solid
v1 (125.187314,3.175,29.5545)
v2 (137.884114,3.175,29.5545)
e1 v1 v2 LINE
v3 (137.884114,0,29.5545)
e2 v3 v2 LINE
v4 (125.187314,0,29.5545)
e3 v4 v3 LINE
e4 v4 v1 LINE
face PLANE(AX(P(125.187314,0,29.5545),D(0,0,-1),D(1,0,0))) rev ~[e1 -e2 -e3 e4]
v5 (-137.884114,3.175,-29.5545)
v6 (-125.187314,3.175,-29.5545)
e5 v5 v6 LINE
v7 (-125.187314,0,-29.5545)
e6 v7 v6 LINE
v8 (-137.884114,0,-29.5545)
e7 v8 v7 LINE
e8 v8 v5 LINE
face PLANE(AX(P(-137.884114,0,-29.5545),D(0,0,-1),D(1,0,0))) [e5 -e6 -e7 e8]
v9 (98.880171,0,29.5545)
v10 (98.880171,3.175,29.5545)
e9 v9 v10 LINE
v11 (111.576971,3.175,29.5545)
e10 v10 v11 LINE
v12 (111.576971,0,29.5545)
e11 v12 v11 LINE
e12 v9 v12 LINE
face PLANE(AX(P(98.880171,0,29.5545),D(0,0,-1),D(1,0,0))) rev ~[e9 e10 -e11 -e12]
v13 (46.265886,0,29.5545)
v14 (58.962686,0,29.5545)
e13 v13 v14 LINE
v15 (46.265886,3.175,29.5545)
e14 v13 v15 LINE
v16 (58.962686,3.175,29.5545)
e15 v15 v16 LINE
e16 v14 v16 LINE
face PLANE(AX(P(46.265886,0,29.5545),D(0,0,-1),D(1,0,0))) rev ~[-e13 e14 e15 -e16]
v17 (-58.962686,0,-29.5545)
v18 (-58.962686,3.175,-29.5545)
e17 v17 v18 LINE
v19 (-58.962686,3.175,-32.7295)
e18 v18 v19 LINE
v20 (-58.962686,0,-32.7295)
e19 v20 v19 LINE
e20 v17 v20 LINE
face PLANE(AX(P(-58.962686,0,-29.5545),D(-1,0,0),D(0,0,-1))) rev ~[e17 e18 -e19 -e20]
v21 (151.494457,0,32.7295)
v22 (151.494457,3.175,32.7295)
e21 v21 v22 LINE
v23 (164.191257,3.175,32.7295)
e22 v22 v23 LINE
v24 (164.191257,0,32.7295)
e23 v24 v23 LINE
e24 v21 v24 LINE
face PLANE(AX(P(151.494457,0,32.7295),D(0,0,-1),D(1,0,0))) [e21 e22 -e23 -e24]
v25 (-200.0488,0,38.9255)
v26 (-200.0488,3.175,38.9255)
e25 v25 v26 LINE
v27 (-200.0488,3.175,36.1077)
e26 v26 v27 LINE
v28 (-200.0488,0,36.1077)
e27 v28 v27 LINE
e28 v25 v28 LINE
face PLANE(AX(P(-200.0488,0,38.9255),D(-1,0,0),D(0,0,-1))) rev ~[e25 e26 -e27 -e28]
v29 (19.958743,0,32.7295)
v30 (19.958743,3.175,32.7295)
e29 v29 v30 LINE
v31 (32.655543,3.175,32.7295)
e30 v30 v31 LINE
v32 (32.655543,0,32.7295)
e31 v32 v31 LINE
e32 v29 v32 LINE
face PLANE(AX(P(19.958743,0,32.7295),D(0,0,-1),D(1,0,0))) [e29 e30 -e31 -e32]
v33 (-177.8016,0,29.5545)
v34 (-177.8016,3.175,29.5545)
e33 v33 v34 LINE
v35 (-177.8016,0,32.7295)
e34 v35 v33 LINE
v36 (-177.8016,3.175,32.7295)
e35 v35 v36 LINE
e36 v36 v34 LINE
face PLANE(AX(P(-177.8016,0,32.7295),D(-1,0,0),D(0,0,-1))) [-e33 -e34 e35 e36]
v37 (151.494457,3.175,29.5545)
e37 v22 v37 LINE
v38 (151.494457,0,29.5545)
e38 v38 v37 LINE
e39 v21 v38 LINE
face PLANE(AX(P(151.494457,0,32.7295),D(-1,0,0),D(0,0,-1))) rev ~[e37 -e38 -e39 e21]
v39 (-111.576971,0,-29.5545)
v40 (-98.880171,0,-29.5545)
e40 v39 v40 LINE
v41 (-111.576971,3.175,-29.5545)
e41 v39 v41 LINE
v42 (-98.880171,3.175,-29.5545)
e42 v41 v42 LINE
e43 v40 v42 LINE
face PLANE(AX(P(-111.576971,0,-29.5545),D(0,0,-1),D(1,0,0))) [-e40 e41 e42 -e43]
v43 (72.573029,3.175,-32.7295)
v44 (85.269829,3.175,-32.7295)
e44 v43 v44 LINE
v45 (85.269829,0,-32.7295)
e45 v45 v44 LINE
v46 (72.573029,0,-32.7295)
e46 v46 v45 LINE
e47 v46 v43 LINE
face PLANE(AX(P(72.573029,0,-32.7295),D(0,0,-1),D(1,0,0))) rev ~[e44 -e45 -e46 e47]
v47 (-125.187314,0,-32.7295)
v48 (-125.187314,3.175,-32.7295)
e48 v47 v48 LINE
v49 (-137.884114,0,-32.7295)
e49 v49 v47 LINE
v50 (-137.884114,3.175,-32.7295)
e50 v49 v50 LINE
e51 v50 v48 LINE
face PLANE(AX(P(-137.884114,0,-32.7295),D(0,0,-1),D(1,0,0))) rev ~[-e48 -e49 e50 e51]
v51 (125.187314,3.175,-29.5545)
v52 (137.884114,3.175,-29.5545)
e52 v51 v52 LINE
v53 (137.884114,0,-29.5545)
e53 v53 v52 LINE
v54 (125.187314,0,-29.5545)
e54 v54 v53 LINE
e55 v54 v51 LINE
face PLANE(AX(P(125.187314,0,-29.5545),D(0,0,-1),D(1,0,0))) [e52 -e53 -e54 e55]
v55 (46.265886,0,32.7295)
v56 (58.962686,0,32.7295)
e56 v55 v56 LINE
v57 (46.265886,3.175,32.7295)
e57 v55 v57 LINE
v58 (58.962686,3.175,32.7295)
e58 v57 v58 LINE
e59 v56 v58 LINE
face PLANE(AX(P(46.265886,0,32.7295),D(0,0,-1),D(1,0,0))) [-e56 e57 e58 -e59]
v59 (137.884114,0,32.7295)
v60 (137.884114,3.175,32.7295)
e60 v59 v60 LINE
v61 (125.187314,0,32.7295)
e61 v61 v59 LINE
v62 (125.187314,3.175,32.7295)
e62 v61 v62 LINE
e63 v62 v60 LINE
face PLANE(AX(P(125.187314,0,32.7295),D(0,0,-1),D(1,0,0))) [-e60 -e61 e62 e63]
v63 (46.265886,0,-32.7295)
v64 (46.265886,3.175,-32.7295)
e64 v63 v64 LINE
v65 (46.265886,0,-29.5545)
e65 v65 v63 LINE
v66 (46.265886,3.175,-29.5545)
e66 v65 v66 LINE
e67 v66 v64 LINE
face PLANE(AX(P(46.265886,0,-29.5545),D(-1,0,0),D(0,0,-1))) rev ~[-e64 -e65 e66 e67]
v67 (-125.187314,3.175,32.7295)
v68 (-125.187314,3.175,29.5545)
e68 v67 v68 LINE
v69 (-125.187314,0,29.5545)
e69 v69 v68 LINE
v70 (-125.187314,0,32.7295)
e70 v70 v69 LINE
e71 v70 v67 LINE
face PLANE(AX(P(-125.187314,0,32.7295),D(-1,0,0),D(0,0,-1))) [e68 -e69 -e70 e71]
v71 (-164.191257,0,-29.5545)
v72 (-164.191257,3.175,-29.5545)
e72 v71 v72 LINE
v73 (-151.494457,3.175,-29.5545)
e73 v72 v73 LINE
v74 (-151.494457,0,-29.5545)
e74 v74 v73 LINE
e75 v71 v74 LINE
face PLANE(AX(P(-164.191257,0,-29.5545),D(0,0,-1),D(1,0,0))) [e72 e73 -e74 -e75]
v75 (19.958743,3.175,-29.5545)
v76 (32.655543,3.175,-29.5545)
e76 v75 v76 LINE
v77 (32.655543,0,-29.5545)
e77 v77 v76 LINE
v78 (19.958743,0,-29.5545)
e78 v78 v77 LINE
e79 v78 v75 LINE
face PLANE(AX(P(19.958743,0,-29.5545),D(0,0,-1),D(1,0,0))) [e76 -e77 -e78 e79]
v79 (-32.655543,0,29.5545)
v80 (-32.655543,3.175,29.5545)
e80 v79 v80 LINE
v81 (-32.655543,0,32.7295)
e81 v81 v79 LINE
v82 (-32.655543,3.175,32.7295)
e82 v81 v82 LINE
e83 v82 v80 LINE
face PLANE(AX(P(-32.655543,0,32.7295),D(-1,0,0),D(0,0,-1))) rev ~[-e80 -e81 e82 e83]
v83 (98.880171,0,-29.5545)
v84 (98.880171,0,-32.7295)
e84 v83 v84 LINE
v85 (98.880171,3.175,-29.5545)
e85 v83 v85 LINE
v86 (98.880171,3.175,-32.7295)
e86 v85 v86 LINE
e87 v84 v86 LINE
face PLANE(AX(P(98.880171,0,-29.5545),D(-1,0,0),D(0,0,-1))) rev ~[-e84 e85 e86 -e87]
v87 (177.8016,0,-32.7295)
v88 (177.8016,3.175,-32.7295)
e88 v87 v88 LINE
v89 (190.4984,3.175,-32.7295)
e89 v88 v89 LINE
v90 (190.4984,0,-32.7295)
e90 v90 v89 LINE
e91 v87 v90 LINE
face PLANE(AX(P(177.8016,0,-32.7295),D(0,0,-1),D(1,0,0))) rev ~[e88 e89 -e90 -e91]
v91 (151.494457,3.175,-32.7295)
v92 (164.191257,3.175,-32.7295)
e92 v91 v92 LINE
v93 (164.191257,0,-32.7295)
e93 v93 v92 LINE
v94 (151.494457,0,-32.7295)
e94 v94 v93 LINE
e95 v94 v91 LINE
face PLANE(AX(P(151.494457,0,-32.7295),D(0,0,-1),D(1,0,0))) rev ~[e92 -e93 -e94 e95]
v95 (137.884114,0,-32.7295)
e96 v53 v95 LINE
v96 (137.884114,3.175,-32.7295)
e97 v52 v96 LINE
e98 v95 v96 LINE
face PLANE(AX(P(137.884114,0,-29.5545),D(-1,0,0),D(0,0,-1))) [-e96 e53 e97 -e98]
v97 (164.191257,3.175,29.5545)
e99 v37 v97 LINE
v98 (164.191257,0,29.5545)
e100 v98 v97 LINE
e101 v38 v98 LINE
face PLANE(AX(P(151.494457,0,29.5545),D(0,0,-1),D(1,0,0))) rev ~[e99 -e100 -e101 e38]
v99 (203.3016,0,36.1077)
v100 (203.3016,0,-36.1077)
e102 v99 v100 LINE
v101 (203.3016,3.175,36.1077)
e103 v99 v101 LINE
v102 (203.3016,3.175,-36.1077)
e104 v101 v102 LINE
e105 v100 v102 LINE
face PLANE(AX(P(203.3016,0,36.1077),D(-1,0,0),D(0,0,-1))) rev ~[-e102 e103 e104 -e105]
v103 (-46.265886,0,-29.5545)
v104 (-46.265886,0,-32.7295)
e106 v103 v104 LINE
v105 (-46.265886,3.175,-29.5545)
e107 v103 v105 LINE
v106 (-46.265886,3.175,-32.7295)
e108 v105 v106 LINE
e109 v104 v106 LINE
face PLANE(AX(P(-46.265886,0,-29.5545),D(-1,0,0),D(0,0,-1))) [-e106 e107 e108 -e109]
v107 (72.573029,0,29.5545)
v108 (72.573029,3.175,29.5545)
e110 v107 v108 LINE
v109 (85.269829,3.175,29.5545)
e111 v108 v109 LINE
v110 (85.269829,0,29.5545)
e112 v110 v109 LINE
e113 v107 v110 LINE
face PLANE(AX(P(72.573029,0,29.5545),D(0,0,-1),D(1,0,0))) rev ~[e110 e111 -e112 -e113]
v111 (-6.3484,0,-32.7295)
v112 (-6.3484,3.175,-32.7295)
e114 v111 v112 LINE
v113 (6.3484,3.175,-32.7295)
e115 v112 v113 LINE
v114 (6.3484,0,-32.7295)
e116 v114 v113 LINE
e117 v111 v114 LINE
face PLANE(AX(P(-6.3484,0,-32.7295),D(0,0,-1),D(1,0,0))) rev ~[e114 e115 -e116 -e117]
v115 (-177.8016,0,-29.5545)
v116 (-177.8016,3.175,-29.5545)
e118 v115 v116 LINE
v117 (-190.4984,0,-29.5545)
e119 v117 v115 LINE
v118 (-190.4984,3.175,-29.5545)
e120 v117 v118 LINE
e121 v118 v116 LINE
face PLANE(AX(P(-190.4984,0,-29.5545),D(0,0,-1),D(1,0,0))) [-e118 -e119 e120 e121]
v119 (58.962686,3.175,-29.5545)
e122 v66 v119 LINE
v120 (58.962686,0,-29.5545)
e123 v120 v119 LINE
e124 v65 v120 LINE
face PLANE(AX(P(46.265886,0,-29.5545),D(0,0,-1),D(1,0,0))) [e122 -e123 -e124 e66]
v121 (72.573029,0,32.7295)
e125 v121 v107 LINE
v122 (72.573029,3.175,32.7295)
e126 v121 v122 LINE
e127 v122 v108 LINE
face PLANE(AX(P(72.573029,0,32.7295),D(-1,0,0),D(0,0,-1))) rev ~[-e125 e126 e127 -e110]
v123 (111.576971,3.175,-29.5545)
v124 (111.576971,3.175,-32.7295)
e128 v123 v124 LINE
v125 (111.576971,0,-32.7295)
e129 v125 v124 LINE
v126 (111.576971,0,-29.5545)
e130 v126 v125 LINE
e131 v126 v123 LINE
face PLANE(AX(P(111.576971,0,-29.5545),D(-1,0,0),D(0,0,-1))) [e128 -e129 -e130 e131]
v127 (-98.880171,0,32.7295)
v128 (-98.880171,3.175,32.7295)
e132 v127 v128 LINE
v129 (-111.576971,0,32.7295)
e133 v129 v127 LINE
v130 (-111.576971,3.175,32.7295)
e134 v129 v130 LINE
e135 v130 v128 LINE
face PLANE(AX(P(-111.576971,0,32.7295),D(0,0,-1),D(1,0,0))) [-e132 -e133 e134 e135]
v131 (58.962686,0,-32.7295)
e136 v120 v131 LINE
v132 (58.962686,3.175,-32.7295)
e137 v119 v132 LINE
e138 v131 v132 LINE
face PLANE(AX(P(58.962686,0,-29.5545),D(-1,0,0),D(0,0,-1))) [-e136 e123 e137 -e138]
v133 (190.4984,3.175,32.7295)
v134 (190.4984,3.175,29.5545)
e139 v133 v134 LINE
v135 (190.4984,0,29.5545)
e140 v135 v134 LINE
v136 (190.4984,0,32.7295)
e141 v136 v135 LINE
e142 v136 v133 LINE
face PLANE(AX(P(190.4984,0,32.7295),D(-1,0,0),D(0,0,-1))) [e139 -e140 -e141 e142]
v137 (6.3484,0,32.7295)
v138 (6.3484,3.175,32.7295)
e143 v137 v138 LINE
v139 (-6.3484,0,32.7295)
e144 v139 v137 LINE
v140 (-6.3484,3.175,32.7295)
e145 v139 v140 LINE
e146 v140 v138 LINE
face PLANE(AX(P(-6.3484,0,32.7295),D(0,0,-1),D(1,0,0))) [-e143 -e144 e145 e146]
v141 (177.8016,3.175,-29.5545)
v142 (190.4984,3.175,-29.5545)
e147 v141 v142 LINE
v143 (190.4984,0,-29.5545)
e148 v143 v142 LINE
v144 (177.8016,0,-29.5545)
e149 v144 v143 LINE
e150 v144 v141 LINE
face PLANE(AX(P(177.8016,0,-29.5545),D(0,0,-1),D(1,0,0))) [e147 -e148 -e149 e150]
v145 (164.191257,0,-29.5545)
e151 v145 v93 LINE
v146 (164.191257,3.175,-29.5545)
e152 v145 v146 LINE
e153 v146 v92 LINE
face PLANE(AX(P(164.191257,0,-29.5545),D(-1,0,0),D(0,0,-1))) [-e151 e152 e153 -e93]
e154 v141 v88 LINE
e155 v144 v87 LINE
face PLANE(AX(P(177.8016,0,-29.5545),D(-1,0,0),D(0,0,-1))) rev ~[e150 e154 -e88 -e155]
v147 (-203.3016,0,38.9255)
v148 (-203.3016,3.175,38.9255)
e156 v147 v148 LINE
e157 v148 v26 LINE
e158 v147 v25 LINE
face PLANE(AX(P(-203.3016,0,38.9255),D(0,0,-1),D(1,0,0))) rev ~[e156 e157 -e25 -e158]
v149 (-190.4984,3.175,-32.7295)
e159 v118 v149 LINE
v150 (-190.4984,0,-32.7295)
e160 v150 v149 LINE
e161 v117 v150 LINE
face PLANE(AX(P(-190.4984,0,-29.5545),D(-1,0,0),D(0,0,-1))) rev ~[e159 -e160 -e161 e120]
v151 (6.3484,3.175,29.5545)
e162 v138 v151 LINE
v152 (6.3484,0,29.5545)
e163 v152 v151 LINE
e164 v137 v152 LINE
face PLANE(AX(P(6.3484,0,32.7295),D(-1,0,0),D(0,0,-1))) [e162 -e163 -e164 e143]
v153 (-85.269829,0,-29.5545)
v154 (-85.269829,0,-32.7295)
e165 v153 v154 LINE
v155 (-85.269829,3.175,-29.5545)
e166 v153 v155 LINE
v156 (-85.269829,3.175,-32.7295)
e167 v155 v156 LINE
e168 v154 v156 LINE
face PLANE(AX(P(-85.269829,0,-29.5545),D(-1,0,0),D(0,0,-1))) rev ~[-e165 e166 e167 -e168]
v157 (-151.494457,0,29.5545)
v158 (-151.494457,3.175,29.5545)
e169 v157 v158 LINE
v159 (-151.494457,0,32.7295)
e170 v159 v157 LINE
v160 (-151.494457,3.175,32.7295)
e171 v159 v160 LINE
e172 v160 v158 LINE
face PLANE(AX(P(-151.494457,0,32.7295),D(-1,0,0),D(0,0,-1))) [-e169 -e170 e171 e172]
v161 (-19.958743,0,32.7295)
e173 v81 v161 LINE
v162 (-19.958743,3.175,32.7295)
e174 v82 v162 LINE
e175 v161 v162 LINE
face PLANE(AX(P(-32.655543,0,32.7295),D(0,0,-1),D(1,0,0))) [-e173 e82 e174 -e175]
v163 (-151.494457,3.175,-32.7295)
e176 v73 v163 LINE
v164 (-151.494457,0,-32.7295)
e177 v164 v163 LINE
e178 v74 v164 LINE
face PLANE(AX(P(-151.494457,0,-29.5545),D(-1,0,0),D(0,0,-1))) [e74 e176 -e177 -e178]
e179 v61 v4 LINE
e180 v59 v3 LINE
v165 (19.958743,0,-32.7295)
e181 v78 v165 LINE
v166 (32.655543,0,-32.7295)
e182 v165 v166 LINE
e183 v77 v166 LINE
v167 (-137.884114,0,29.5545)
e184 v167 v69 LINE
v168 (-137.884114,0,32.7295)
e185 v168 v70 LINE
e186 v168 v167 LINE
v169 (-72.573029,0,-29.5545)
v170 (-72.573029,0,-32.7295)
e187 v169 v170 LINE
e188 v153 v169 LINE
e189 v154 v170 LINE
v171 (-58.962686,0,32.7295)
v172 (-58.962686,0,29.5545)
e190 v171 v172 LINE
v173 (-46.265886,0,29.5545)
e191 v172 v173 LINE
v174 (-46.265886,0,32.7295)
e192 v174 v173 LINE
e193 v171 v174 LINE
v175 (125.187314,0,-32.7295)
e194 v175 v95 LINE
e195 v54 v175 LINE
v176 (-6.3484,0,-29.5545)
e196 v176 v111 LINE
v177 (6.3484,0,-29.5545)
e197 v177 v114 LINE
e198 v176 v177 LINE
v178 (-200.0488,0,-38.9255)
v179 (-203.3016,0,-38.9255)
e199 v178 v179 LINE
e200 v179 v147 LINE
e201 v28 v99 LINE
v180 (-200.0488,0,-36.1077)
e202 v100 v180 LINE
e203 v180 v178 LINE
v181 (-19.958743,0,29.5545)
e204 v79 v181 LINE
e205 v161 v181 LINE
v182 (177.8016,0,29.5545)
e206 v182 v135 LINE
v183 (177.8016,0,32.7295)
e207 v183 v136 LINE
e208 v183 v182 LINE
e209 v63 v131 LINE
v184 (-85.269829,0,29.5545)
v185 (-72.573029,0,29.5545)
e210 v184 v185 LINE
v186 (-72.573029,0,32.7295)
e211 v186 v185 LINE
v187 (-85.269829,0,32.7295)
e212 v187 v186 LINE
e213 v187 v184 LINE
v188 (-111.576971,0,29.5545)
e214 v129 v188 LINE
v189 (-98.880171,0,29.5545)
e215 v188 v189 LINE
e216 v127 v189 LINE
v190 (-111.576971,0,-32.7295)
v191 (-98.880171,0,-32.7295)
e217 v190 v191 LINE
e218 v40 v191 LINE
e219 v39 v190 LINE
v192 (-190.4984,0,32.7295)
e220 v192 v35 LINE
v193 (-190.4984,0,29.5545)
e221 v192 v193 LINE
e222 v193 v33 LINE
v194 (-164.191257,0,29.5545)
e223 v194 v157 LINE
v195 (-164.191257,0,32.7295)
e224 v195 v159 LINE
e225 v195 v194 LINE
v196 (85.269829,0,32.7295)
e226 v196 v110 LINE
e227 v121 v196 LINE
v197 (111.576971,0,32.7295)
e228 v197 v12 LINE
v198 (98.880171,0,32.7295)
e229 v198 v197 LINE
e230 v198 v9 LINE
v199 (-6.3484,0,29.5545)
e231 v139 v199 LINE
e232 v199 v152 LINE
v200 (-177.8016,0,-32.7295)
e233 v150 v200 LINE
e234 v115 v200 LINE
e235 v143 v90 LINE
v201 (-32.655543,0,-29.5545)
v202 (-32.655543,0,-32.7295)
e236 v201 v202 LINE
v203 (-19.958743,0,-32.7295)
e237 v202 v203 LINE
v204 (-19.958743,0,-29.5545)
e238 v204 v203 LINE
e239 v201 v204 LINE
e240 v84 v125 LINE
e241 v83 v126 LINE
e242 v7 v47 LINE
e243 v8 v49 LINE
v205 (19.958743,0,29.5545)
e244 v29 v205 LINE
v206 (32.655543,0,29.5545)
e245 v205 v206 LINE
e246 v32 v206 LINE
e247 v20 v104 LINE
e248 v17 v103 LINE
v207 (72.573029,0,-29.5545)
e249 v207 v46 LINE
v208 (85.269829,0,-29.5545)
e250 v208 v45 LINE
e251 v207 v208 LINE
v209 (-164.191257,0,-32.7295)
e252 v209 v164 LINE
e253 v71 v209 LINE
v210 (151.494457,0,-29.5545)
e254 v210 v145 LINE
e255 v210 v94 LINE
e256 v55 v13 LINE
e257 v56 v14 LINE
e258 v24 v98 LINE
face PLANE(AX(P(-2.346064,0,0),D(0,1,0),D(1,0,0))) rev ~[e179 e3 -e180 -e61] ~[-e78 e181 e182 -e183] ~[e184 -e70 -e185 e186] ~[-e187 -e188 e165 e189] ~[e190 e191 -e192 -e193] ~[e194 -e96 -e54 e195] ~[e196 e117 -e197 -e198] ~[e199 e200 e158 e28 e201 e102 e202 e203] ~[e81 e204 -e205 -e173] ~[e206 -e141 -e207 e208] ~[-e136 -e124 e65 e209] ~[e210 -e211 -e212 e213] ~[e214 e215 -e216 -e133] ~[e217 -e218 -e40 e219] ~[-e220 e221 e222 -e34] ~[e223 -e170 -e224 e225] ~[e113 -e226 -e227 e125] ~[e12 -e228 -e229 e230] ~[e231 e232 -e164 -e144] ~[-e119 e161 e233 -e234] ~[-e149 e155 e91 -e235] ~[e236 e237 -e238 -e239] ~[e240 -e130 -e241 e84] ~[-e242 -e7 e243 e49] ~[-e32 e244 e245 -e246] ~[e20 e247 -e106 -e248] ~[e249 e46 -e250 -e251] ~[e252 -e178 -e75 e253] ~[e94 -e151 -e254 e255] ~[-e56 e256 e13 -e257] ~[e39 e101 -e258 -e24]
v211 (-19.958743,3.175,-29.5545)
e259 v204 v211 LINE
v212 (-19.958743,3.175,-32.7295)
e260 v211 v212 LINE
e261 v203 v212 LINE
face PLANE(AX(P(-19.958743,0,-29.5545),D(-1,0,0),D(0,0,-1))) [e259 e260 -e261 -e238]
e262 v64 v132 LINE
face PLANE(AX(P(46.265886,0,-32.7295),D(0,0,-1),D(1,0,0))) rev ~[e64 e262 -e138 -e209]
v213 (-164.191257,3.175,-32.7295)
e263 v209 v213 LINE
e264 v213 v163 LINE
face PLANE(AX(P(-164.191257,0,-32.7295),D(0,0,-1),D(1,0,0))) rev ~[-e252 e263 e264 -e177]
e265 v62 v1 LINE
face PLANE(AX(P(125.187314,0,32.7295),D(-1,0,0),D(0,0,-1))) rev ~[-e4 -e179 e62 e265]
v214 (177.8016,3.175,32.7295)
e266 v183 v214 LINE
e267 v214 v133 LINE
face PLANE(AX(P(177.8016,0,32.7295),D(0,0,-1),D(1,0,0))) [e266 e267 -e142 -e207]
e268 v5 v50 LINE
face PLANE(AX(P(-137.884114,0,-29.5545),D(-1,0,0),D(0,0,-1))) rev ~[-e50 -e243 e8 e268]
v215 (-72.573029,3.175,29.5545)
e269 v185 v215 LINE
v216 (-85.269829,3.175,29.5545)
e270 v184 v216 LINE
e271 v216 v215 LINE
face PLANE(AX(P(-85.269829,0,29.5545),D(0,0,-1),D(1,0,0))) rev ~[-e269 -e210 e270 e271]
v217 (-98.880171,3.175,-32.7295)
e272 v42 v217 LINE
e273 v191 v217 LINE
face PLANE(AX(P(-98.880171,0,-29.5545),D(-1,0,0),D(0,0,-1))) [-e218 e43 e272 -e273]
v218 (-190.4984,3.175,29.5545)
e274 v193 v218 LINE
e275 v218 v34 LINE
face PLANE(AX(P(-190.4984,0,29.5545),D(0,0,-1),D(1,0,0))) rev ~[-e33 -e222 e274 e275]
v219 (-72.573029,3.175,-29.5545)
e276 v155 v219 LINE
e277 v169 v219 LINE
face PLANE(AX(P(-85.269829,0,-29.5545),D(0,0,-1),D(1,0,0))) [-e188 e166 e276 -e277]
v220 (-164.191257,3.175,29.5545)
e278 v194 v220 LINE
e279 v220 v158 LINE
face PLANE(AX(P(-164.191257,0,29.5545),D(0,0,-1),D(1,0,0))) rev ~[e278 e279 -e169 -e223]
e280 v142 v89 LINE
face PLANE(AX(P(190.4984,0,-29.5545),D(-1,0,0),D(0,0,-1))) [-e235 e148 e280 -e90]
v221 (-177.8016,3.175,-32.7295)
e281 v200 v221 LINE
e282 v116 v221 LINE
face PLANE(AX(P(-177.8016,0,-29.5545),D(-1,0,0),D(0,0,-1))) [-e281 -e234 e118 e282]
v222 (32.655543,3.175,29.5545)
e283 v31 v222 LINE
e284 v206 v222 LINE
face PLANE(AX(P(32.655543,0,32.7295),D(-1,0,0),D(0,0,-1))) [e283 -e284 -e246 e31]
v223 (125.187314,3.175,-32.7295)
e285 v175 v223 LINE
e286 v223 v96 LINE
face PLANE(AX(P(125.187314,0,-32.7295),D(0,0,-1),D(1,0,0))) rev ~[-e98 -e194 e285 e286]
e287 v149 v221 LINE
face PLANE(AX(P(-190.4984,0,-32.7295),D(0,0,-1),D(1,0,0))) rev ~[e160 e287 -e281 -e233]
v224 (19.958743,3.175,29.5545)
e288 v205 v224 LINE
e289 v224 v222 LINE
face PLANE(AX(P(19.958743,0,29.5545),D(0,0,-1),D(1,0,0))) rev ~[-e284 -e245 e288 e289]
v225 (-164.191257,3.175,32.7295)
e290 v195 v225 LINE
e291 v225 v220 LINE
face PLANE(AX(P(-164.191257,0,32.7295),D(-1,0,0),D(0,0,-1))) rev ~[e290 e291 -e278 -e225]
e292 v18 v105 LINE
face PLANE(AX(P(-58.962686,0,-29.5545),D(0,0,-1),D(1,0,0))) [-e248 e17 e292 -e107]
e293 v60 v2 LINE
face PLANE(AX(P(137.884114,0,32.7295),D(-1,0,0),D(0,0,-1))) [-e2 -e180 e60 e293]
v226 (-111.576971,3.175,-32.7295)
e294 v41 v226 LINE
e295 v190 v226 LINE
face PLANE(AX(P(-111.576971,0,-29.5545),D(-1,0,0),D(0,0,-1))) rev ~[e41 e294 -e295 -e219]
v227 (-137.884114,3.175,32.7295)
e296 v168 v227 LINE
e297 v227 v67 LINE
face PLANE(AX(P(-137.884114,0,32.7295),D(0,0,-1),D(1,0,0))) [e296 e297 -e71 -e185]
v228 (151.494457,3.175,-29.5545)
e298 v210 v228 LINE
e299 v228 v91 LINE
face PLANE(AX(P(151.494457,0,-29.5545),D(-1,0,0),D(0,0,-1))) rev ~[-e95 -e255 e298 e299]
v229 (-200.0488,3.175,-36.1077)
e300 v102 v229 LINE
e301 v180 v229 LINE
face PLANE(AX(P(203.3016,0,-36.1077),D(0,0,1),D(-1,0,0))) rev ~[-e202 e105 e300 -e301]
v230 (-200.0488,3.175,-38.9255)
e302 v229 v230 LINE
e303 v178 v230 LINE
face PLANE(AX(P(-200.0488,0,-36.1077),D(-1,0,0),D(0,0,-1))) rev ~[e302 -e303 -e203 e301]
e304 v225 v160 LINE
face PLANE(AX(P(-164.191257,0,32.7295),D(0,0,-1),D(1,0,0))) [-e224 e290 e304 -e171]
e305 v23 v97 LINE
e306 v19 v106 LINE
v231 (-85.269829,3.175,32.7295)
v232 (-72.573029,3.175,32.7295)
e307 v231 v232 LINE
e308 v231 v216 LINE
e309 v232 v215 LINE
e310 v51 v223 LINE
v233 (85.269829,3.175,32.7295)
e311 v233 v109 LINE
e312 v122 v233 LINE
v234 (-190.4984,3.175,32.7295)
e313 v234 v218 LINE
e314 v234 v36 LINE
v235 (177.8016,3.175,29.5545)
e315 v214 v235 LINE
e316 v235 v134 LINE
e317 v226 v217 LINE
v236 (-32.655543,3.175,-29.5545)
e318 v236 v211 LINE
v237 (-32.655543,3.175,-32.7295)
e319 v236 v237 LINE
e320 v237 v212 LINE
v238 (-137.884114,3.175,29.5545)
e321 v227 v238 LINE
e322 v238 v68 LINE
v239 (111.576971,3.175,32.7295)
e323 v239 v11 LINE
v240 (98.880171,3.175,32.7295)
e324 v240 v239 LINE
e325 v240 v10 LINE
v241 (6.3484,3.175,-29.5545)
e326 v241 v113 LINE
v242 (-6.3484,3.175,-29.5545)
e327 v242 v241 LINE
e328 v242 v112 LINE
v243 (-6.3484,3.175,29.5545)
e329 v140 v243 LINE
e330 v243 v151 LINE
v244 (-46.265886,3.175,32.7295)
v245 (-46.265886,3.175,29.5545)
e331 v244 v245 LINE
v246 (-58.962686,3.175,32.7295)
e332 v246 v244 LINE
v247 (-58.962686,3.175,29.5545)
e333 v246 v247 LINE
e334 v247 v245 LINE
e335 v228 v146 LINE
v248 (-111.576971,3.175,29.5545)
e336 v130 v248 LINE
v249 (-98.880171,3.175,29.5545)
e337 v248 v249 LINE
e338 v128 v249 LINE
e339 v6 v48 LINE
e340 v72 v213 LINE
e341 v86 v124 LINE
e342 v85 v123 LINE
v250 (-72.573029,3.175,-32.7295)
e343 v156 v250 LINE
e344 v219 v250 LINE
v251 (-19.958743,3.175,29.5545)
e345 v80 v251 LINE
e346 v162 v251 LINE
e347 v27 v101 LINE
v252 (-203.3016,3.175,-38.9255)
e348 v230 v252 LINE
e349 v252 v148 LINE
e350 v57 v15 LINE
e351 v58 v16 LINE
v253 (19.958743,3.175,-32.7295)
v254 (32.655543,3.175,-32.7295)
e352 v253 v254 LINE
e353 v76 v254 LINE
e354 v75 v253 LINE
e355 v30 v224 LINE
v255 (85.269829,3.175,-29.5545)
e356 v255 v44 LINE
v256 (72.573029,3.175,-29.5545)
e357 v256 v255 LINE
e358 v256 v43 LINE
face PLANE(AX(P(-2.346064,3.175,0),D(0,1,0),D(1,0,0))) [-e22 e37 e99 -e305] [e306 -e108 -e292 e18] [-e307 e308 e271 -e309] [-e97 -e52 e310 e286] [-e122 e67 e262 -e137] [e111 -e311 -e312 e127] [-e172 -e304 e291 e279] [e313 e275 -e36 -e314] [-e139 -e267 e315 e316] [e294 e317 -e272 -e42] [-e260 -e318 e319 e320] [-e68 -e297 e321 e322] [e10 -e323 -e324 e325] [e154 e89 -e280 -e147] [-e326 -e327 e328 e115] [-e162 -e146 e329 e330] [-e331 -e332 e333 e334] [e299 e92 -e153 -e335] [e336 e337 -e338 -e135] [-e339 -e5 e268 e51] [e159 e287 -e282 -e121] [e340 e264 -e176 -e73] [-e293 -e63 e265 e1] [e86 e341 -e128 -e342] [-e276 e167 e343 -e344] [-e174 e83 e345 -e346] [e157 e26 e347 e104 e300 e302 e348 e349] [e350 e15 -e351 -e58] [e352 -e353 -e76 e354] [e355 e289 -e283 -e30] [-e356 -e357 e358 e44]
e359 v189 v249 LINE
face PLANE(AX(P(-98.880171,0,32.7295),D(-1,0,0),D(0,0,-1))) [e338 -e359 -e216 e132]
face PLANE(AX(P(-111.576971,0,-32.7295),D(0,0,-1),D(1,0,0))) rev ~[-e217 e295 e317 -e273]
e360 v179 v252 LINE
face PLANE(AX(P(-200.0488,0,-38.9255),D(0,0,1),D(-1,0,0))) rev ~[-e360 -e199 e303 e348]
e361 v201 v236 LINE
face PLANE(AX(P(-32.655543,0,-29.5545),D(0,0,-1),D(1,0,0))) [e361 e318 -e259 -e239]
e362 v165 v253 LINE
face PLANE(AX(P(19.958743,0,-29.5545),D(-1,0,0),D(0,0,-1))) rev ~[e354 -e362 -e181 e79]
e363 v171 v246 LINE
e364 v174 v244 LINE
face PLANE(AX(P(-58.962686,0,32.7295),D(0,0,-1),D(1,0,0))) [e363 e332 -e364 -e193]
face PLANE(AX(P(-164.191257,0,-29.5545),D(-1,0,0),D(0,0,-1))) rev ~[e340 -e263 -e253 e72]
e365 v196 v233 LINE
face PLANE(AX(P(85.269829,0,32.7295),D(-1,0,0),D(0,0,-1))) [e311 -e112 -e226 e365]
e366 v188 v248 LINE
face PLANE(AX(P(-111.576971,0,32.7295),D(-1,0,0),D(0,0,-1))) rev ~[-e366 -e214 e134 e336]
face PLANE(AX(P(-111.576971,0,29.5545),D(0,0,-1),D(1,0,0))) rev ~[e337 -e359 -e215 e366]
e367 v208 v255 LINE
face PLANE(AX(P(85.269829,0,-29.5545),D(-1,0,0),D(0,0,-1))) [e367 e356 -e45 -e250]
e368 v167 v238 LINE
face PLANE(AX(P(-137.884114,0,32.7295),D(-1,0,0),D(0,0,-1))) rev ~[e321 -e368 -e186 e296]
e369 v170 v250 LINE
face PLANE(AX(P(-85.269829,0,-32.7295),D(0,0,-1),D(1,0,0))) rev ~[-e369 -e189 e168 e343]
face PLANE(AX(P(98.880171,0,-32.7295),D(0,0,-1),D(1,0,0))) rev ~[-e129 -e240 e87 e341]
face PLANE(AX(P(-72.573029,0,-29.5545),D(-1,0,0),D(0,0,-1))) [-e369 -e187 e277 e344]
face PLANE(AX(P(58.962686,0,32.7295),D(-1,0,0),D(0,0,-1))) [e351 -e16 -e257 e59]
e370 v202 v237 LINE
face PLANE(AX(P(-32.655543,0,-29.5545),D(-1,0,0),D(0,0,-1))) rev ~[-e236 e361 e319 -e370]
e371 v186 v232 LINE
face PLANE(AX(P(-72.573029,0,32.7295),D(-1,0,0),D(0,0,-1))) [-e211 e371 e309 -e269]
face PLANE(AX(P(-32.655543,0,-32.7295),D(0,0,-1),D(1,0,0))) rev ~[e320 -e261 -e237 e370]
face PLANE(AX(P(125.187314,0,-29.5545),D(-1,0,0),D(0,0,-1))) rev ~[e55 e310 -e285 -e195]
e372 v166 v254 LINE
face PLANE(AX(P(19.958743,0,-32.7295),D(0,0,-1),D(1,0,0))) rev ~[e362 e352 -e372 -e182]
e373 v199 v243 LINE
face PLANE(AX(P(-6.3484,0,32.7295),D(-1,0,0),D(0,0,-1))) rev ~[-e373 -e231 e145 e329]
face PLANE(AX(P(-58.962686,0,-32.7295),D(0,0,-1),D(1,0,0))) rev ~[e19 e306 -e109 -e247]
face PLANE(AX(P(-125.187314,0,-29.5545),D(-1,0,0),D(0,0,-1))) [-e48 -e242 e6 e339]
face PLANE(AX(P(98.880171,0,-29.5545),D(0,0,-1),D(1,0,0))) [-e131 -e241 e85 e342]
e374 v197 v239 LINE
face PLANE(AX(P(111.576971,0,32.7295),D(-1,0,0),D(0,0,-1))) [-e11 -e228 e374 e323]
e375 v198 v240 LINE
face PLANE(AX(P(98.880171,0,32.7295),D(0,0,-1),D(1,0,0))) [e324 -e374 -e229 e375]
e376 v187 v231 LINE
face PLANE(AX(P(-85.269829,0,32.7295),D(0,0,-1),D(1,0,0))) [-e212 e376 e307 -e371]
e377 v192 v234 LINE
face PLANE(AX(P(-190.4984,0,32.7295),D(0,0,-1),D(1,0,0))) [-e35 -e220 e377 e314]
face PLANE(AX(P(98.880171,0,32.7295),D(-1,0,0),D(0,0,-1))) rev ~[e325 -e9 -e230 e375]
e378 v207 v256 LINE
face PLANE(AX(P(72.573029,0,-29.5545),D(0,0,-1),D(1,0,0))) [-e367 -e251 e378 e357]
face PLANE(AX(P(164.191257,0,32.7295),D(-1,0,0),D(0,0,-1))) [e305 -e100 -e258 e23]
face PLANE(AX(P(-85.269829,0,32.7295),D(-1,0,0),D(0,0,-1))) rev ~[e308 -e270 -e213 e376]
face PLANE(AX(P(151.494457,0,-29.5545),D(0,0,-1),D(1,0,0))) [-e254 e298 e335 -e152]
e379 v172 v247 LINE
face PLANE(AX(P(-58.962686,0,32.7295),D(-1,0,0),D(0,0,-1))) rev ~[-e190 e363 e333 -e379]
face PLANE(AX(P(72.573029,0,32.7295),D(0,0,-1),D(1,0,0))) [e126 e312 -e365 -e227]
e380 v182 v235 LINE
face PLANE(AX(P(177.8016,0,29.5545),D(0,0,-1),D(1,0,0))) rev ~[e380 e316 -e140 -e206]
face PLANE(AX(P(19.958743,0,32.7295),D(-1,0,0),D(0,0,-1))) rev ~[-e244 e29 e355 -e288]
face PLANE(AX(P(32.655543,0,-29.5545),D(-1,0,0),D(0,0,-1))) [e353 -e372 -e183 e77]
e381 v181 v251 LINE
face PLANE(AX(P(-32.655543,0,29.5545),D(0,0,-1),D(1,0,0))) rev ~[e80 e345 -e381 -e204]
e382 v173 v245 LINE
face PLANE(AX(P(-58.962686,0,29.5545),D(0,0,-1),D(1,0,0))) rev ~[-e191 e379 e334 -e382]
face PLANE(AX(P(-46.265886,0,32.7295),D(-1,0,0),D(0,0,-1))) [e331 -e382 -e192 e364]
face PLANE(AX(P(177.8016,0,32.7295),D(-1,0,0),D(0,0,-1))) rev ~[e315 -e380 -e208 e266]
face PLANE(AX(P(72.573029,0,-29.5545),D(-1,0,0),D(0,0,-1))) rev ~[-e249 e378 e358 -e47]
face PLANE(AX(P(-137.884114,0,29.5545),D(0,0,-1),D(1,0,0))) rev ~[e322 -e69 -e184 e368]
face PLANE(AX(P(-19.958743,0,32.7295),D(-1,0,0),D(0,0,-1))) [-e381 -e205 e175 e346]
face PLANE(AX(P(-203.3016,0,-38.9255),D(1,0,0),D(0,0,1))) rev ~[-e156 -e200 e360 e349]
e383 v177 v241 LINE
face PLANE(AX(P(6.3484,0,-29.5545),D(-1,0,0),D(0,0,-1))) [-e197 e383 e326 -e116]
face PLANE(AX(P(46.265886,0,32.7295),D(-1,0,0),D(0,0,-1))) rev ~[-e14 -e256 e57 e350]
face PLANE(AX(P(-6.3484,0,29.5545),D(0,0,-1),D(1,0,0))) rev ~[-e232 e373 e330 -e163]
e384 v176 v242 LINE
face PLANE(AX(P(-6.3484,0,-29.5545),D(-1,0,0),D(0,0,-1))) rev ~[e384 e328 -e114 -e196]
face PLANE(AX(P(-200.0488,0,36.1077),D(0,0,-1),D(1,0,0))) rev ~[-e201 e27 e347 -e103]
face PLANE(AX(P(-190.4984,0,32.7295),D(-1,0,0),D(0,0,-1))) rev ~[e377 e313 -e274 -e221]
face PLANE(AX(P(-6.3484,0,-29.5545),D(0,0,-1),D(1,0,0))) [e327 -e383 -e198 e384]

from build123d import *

# Parameters (mm, degrees)
SKETCH1_W           = 12.6968
SKETCH1_H           = 3.175
BOSS_EXTRUDE1_DEPTH = 3.175


with BuildPart() as part:
    # Sketch1 → Boss-Extrude1 (new body)
    with BuildSketch(Plane(origin=(0, 0, 0), x_dir=(1, 0, 0), z_dir=(0, 1, 0))):
        Polygon((-200.0487998, -36.1077), (203.3016, -36.1077), (203.3016, 36.1077), (-200.0487998, 36.1077), (-200.0487998, 38.9255), (-203.3016, 38.9255), (-203.3016, -38.9255), (-200.0487998, -38.9255), align=None)
        with Locations((-157.842857143, -31.142)):
            Rectangle(SKETCH1_W, SKETCH1_H, mode=Mode.SUBTRACT)
        with Locations((184.15, -31.142)):
            Rectangle(SKETCH1_W, SKETCH1_H, mode=Mode.SUBTRACT)
        with Locations((-131.535714286, -31.142)):
            Rectangle(SKETCH1_W, SKETCH1_H, mode=Mode.SUBTRACT)
        with Locations((-105.228571429, -31.142)):
            Rectangle(SKETCH1_W, SKETCH1_H, mode=Mode.SUBTRACT)
        with Locations((157.842857143, -31.142)):
            Rectangle(SKETCH1_W, SKETCH1_H, mode=Mode.SUBTRACT)
        with Locations((131.535714286, -31.142)):
            Rectangle(SKETCH1_W, SKETCH1_H, mode=Mode.SUBTRACT)
        with Locations((105.228571429, -31.142)):
            Rectangle(SKETCH1_W, SKETCH1_H, mode=Mode.SUBTRACT)
        with Locations((78.921428571, -31.142)):
            Rectangle(SKETCH1_W, SKETCH1_H, mode=Mode.SUBTRACT)
        with Locations((52.614285714, -31.142)):
            Rectangle(SKETCH1_W, SKETCH1_H, mode=Mode.SUBTRACT)
        with Locations((26.307142857, -31.142)):
            Rectangle(SKETCH1_W, SKETCH1_H, mode=Mode.SUBTRACT)
        with Locations((0, -31.142)):
            Rectangle(SKETCH1_W, SKETCH1_H, mode=Mode.SUBTRACT)
        with Locations((-26.307142857, -31.142)):
            Rectangle(SKETCH1_W, SKETCH1_H, mode=Mode.SUBTRACT)
        with Locations((-52.614285714, -31.142)):
            Rectangle(SKETCH1_W, SKETCH1_H, mode=Mode.SUBTRACT)
        with Locations((-78.921428571, -31.142)):
            Rectangle(SKETCH1_W, SKETCH1_H, mode=Mode.SUBTRACT)
        with Locations((-184.15, -31.142)):
            Rectangle(SKETCH1_W, SKETCH1_H, mode=Mode.SUBTRACT)
        with Locations((184.15, 31.142)):
            Rectangle(SKETCH1_W, SKETCH1_H, mode=Mode.SUBTRACT)
        with Locations((-157.842857143, 31.142)):
            Rectangle(SKETCH1_W, SKETCH1_H, mode=Mode.SUBTRACT)
        with Locations((-131.535714286, 31.142)):
            Rectangle(SKETCH1_W, SKETCH1_H, mode=Mode.SUBTRACT)
        with Locations((-105.228571429, 31.142)):
            Rectangle(SKETCH1_W, SKETCH1_H, mode=Mode.SUBTRACT)
        with Locations((-78.921428571, 31.142)):
            Rectangle(SKETCH1_W, SKETCH1_H, mode=Mode.SUBTRACT)
        with Locations((-52.614285714, 31.142)):
            Rectangle(SKETCH1_W, SKETCH1_H, mode=Mode.SUBTRACT)
        with Locations((-26.307142857, 31.142)):
            Rectangle(SKETCH1_W, SKETCH1_H, mode=Mode.SUBTRACT)
        with Locations((0, 31.142)):
            Rectangle(SKETCH1_W, SKETCH1_H, mode=Mode.SUBTRACT)
        with Locations((26.307142857, 31.142)):
            Rectangle(SKETCH1_W, SKETCH1_H, mode=Mode.SUBTRACT)
        with Locations((52.614285714, 31.142)):
            Rectangle(SKETCH1_W, SKETCH1_H, mode=Mode.SUBTRACT)
        with Locations((78.921428571, 31.142)):
            Rectangle(SKETCH1_W, SKETCH1_H, mode=Mode.SUBTRACT)
        with Locations((105.228571429, 31.142)):
            Rectangle(SKETCH1_W, SKETCH1_H, mode=Mode.SUBTRACT)
        with Locations((131.535714286, 31.142)):
            Rectangle(SKETCH1_W, SKETCH1_H, mode=Mode.SUBTRACT)
        with Locations((157.842857143, 31.142)):
            Rectangle(SKETCH1_W, SKETCH1_H, mode=Mode.SUBTRACT)
        with Locations((-184.15, 31.142)):
            Rectangle(SKETCH1_W, SKETCH1_H, mode=Mode.SUBTRACT)
    extrude(amount=BOSS_EXTRUDE1_DEPTH)


solid = part.part
